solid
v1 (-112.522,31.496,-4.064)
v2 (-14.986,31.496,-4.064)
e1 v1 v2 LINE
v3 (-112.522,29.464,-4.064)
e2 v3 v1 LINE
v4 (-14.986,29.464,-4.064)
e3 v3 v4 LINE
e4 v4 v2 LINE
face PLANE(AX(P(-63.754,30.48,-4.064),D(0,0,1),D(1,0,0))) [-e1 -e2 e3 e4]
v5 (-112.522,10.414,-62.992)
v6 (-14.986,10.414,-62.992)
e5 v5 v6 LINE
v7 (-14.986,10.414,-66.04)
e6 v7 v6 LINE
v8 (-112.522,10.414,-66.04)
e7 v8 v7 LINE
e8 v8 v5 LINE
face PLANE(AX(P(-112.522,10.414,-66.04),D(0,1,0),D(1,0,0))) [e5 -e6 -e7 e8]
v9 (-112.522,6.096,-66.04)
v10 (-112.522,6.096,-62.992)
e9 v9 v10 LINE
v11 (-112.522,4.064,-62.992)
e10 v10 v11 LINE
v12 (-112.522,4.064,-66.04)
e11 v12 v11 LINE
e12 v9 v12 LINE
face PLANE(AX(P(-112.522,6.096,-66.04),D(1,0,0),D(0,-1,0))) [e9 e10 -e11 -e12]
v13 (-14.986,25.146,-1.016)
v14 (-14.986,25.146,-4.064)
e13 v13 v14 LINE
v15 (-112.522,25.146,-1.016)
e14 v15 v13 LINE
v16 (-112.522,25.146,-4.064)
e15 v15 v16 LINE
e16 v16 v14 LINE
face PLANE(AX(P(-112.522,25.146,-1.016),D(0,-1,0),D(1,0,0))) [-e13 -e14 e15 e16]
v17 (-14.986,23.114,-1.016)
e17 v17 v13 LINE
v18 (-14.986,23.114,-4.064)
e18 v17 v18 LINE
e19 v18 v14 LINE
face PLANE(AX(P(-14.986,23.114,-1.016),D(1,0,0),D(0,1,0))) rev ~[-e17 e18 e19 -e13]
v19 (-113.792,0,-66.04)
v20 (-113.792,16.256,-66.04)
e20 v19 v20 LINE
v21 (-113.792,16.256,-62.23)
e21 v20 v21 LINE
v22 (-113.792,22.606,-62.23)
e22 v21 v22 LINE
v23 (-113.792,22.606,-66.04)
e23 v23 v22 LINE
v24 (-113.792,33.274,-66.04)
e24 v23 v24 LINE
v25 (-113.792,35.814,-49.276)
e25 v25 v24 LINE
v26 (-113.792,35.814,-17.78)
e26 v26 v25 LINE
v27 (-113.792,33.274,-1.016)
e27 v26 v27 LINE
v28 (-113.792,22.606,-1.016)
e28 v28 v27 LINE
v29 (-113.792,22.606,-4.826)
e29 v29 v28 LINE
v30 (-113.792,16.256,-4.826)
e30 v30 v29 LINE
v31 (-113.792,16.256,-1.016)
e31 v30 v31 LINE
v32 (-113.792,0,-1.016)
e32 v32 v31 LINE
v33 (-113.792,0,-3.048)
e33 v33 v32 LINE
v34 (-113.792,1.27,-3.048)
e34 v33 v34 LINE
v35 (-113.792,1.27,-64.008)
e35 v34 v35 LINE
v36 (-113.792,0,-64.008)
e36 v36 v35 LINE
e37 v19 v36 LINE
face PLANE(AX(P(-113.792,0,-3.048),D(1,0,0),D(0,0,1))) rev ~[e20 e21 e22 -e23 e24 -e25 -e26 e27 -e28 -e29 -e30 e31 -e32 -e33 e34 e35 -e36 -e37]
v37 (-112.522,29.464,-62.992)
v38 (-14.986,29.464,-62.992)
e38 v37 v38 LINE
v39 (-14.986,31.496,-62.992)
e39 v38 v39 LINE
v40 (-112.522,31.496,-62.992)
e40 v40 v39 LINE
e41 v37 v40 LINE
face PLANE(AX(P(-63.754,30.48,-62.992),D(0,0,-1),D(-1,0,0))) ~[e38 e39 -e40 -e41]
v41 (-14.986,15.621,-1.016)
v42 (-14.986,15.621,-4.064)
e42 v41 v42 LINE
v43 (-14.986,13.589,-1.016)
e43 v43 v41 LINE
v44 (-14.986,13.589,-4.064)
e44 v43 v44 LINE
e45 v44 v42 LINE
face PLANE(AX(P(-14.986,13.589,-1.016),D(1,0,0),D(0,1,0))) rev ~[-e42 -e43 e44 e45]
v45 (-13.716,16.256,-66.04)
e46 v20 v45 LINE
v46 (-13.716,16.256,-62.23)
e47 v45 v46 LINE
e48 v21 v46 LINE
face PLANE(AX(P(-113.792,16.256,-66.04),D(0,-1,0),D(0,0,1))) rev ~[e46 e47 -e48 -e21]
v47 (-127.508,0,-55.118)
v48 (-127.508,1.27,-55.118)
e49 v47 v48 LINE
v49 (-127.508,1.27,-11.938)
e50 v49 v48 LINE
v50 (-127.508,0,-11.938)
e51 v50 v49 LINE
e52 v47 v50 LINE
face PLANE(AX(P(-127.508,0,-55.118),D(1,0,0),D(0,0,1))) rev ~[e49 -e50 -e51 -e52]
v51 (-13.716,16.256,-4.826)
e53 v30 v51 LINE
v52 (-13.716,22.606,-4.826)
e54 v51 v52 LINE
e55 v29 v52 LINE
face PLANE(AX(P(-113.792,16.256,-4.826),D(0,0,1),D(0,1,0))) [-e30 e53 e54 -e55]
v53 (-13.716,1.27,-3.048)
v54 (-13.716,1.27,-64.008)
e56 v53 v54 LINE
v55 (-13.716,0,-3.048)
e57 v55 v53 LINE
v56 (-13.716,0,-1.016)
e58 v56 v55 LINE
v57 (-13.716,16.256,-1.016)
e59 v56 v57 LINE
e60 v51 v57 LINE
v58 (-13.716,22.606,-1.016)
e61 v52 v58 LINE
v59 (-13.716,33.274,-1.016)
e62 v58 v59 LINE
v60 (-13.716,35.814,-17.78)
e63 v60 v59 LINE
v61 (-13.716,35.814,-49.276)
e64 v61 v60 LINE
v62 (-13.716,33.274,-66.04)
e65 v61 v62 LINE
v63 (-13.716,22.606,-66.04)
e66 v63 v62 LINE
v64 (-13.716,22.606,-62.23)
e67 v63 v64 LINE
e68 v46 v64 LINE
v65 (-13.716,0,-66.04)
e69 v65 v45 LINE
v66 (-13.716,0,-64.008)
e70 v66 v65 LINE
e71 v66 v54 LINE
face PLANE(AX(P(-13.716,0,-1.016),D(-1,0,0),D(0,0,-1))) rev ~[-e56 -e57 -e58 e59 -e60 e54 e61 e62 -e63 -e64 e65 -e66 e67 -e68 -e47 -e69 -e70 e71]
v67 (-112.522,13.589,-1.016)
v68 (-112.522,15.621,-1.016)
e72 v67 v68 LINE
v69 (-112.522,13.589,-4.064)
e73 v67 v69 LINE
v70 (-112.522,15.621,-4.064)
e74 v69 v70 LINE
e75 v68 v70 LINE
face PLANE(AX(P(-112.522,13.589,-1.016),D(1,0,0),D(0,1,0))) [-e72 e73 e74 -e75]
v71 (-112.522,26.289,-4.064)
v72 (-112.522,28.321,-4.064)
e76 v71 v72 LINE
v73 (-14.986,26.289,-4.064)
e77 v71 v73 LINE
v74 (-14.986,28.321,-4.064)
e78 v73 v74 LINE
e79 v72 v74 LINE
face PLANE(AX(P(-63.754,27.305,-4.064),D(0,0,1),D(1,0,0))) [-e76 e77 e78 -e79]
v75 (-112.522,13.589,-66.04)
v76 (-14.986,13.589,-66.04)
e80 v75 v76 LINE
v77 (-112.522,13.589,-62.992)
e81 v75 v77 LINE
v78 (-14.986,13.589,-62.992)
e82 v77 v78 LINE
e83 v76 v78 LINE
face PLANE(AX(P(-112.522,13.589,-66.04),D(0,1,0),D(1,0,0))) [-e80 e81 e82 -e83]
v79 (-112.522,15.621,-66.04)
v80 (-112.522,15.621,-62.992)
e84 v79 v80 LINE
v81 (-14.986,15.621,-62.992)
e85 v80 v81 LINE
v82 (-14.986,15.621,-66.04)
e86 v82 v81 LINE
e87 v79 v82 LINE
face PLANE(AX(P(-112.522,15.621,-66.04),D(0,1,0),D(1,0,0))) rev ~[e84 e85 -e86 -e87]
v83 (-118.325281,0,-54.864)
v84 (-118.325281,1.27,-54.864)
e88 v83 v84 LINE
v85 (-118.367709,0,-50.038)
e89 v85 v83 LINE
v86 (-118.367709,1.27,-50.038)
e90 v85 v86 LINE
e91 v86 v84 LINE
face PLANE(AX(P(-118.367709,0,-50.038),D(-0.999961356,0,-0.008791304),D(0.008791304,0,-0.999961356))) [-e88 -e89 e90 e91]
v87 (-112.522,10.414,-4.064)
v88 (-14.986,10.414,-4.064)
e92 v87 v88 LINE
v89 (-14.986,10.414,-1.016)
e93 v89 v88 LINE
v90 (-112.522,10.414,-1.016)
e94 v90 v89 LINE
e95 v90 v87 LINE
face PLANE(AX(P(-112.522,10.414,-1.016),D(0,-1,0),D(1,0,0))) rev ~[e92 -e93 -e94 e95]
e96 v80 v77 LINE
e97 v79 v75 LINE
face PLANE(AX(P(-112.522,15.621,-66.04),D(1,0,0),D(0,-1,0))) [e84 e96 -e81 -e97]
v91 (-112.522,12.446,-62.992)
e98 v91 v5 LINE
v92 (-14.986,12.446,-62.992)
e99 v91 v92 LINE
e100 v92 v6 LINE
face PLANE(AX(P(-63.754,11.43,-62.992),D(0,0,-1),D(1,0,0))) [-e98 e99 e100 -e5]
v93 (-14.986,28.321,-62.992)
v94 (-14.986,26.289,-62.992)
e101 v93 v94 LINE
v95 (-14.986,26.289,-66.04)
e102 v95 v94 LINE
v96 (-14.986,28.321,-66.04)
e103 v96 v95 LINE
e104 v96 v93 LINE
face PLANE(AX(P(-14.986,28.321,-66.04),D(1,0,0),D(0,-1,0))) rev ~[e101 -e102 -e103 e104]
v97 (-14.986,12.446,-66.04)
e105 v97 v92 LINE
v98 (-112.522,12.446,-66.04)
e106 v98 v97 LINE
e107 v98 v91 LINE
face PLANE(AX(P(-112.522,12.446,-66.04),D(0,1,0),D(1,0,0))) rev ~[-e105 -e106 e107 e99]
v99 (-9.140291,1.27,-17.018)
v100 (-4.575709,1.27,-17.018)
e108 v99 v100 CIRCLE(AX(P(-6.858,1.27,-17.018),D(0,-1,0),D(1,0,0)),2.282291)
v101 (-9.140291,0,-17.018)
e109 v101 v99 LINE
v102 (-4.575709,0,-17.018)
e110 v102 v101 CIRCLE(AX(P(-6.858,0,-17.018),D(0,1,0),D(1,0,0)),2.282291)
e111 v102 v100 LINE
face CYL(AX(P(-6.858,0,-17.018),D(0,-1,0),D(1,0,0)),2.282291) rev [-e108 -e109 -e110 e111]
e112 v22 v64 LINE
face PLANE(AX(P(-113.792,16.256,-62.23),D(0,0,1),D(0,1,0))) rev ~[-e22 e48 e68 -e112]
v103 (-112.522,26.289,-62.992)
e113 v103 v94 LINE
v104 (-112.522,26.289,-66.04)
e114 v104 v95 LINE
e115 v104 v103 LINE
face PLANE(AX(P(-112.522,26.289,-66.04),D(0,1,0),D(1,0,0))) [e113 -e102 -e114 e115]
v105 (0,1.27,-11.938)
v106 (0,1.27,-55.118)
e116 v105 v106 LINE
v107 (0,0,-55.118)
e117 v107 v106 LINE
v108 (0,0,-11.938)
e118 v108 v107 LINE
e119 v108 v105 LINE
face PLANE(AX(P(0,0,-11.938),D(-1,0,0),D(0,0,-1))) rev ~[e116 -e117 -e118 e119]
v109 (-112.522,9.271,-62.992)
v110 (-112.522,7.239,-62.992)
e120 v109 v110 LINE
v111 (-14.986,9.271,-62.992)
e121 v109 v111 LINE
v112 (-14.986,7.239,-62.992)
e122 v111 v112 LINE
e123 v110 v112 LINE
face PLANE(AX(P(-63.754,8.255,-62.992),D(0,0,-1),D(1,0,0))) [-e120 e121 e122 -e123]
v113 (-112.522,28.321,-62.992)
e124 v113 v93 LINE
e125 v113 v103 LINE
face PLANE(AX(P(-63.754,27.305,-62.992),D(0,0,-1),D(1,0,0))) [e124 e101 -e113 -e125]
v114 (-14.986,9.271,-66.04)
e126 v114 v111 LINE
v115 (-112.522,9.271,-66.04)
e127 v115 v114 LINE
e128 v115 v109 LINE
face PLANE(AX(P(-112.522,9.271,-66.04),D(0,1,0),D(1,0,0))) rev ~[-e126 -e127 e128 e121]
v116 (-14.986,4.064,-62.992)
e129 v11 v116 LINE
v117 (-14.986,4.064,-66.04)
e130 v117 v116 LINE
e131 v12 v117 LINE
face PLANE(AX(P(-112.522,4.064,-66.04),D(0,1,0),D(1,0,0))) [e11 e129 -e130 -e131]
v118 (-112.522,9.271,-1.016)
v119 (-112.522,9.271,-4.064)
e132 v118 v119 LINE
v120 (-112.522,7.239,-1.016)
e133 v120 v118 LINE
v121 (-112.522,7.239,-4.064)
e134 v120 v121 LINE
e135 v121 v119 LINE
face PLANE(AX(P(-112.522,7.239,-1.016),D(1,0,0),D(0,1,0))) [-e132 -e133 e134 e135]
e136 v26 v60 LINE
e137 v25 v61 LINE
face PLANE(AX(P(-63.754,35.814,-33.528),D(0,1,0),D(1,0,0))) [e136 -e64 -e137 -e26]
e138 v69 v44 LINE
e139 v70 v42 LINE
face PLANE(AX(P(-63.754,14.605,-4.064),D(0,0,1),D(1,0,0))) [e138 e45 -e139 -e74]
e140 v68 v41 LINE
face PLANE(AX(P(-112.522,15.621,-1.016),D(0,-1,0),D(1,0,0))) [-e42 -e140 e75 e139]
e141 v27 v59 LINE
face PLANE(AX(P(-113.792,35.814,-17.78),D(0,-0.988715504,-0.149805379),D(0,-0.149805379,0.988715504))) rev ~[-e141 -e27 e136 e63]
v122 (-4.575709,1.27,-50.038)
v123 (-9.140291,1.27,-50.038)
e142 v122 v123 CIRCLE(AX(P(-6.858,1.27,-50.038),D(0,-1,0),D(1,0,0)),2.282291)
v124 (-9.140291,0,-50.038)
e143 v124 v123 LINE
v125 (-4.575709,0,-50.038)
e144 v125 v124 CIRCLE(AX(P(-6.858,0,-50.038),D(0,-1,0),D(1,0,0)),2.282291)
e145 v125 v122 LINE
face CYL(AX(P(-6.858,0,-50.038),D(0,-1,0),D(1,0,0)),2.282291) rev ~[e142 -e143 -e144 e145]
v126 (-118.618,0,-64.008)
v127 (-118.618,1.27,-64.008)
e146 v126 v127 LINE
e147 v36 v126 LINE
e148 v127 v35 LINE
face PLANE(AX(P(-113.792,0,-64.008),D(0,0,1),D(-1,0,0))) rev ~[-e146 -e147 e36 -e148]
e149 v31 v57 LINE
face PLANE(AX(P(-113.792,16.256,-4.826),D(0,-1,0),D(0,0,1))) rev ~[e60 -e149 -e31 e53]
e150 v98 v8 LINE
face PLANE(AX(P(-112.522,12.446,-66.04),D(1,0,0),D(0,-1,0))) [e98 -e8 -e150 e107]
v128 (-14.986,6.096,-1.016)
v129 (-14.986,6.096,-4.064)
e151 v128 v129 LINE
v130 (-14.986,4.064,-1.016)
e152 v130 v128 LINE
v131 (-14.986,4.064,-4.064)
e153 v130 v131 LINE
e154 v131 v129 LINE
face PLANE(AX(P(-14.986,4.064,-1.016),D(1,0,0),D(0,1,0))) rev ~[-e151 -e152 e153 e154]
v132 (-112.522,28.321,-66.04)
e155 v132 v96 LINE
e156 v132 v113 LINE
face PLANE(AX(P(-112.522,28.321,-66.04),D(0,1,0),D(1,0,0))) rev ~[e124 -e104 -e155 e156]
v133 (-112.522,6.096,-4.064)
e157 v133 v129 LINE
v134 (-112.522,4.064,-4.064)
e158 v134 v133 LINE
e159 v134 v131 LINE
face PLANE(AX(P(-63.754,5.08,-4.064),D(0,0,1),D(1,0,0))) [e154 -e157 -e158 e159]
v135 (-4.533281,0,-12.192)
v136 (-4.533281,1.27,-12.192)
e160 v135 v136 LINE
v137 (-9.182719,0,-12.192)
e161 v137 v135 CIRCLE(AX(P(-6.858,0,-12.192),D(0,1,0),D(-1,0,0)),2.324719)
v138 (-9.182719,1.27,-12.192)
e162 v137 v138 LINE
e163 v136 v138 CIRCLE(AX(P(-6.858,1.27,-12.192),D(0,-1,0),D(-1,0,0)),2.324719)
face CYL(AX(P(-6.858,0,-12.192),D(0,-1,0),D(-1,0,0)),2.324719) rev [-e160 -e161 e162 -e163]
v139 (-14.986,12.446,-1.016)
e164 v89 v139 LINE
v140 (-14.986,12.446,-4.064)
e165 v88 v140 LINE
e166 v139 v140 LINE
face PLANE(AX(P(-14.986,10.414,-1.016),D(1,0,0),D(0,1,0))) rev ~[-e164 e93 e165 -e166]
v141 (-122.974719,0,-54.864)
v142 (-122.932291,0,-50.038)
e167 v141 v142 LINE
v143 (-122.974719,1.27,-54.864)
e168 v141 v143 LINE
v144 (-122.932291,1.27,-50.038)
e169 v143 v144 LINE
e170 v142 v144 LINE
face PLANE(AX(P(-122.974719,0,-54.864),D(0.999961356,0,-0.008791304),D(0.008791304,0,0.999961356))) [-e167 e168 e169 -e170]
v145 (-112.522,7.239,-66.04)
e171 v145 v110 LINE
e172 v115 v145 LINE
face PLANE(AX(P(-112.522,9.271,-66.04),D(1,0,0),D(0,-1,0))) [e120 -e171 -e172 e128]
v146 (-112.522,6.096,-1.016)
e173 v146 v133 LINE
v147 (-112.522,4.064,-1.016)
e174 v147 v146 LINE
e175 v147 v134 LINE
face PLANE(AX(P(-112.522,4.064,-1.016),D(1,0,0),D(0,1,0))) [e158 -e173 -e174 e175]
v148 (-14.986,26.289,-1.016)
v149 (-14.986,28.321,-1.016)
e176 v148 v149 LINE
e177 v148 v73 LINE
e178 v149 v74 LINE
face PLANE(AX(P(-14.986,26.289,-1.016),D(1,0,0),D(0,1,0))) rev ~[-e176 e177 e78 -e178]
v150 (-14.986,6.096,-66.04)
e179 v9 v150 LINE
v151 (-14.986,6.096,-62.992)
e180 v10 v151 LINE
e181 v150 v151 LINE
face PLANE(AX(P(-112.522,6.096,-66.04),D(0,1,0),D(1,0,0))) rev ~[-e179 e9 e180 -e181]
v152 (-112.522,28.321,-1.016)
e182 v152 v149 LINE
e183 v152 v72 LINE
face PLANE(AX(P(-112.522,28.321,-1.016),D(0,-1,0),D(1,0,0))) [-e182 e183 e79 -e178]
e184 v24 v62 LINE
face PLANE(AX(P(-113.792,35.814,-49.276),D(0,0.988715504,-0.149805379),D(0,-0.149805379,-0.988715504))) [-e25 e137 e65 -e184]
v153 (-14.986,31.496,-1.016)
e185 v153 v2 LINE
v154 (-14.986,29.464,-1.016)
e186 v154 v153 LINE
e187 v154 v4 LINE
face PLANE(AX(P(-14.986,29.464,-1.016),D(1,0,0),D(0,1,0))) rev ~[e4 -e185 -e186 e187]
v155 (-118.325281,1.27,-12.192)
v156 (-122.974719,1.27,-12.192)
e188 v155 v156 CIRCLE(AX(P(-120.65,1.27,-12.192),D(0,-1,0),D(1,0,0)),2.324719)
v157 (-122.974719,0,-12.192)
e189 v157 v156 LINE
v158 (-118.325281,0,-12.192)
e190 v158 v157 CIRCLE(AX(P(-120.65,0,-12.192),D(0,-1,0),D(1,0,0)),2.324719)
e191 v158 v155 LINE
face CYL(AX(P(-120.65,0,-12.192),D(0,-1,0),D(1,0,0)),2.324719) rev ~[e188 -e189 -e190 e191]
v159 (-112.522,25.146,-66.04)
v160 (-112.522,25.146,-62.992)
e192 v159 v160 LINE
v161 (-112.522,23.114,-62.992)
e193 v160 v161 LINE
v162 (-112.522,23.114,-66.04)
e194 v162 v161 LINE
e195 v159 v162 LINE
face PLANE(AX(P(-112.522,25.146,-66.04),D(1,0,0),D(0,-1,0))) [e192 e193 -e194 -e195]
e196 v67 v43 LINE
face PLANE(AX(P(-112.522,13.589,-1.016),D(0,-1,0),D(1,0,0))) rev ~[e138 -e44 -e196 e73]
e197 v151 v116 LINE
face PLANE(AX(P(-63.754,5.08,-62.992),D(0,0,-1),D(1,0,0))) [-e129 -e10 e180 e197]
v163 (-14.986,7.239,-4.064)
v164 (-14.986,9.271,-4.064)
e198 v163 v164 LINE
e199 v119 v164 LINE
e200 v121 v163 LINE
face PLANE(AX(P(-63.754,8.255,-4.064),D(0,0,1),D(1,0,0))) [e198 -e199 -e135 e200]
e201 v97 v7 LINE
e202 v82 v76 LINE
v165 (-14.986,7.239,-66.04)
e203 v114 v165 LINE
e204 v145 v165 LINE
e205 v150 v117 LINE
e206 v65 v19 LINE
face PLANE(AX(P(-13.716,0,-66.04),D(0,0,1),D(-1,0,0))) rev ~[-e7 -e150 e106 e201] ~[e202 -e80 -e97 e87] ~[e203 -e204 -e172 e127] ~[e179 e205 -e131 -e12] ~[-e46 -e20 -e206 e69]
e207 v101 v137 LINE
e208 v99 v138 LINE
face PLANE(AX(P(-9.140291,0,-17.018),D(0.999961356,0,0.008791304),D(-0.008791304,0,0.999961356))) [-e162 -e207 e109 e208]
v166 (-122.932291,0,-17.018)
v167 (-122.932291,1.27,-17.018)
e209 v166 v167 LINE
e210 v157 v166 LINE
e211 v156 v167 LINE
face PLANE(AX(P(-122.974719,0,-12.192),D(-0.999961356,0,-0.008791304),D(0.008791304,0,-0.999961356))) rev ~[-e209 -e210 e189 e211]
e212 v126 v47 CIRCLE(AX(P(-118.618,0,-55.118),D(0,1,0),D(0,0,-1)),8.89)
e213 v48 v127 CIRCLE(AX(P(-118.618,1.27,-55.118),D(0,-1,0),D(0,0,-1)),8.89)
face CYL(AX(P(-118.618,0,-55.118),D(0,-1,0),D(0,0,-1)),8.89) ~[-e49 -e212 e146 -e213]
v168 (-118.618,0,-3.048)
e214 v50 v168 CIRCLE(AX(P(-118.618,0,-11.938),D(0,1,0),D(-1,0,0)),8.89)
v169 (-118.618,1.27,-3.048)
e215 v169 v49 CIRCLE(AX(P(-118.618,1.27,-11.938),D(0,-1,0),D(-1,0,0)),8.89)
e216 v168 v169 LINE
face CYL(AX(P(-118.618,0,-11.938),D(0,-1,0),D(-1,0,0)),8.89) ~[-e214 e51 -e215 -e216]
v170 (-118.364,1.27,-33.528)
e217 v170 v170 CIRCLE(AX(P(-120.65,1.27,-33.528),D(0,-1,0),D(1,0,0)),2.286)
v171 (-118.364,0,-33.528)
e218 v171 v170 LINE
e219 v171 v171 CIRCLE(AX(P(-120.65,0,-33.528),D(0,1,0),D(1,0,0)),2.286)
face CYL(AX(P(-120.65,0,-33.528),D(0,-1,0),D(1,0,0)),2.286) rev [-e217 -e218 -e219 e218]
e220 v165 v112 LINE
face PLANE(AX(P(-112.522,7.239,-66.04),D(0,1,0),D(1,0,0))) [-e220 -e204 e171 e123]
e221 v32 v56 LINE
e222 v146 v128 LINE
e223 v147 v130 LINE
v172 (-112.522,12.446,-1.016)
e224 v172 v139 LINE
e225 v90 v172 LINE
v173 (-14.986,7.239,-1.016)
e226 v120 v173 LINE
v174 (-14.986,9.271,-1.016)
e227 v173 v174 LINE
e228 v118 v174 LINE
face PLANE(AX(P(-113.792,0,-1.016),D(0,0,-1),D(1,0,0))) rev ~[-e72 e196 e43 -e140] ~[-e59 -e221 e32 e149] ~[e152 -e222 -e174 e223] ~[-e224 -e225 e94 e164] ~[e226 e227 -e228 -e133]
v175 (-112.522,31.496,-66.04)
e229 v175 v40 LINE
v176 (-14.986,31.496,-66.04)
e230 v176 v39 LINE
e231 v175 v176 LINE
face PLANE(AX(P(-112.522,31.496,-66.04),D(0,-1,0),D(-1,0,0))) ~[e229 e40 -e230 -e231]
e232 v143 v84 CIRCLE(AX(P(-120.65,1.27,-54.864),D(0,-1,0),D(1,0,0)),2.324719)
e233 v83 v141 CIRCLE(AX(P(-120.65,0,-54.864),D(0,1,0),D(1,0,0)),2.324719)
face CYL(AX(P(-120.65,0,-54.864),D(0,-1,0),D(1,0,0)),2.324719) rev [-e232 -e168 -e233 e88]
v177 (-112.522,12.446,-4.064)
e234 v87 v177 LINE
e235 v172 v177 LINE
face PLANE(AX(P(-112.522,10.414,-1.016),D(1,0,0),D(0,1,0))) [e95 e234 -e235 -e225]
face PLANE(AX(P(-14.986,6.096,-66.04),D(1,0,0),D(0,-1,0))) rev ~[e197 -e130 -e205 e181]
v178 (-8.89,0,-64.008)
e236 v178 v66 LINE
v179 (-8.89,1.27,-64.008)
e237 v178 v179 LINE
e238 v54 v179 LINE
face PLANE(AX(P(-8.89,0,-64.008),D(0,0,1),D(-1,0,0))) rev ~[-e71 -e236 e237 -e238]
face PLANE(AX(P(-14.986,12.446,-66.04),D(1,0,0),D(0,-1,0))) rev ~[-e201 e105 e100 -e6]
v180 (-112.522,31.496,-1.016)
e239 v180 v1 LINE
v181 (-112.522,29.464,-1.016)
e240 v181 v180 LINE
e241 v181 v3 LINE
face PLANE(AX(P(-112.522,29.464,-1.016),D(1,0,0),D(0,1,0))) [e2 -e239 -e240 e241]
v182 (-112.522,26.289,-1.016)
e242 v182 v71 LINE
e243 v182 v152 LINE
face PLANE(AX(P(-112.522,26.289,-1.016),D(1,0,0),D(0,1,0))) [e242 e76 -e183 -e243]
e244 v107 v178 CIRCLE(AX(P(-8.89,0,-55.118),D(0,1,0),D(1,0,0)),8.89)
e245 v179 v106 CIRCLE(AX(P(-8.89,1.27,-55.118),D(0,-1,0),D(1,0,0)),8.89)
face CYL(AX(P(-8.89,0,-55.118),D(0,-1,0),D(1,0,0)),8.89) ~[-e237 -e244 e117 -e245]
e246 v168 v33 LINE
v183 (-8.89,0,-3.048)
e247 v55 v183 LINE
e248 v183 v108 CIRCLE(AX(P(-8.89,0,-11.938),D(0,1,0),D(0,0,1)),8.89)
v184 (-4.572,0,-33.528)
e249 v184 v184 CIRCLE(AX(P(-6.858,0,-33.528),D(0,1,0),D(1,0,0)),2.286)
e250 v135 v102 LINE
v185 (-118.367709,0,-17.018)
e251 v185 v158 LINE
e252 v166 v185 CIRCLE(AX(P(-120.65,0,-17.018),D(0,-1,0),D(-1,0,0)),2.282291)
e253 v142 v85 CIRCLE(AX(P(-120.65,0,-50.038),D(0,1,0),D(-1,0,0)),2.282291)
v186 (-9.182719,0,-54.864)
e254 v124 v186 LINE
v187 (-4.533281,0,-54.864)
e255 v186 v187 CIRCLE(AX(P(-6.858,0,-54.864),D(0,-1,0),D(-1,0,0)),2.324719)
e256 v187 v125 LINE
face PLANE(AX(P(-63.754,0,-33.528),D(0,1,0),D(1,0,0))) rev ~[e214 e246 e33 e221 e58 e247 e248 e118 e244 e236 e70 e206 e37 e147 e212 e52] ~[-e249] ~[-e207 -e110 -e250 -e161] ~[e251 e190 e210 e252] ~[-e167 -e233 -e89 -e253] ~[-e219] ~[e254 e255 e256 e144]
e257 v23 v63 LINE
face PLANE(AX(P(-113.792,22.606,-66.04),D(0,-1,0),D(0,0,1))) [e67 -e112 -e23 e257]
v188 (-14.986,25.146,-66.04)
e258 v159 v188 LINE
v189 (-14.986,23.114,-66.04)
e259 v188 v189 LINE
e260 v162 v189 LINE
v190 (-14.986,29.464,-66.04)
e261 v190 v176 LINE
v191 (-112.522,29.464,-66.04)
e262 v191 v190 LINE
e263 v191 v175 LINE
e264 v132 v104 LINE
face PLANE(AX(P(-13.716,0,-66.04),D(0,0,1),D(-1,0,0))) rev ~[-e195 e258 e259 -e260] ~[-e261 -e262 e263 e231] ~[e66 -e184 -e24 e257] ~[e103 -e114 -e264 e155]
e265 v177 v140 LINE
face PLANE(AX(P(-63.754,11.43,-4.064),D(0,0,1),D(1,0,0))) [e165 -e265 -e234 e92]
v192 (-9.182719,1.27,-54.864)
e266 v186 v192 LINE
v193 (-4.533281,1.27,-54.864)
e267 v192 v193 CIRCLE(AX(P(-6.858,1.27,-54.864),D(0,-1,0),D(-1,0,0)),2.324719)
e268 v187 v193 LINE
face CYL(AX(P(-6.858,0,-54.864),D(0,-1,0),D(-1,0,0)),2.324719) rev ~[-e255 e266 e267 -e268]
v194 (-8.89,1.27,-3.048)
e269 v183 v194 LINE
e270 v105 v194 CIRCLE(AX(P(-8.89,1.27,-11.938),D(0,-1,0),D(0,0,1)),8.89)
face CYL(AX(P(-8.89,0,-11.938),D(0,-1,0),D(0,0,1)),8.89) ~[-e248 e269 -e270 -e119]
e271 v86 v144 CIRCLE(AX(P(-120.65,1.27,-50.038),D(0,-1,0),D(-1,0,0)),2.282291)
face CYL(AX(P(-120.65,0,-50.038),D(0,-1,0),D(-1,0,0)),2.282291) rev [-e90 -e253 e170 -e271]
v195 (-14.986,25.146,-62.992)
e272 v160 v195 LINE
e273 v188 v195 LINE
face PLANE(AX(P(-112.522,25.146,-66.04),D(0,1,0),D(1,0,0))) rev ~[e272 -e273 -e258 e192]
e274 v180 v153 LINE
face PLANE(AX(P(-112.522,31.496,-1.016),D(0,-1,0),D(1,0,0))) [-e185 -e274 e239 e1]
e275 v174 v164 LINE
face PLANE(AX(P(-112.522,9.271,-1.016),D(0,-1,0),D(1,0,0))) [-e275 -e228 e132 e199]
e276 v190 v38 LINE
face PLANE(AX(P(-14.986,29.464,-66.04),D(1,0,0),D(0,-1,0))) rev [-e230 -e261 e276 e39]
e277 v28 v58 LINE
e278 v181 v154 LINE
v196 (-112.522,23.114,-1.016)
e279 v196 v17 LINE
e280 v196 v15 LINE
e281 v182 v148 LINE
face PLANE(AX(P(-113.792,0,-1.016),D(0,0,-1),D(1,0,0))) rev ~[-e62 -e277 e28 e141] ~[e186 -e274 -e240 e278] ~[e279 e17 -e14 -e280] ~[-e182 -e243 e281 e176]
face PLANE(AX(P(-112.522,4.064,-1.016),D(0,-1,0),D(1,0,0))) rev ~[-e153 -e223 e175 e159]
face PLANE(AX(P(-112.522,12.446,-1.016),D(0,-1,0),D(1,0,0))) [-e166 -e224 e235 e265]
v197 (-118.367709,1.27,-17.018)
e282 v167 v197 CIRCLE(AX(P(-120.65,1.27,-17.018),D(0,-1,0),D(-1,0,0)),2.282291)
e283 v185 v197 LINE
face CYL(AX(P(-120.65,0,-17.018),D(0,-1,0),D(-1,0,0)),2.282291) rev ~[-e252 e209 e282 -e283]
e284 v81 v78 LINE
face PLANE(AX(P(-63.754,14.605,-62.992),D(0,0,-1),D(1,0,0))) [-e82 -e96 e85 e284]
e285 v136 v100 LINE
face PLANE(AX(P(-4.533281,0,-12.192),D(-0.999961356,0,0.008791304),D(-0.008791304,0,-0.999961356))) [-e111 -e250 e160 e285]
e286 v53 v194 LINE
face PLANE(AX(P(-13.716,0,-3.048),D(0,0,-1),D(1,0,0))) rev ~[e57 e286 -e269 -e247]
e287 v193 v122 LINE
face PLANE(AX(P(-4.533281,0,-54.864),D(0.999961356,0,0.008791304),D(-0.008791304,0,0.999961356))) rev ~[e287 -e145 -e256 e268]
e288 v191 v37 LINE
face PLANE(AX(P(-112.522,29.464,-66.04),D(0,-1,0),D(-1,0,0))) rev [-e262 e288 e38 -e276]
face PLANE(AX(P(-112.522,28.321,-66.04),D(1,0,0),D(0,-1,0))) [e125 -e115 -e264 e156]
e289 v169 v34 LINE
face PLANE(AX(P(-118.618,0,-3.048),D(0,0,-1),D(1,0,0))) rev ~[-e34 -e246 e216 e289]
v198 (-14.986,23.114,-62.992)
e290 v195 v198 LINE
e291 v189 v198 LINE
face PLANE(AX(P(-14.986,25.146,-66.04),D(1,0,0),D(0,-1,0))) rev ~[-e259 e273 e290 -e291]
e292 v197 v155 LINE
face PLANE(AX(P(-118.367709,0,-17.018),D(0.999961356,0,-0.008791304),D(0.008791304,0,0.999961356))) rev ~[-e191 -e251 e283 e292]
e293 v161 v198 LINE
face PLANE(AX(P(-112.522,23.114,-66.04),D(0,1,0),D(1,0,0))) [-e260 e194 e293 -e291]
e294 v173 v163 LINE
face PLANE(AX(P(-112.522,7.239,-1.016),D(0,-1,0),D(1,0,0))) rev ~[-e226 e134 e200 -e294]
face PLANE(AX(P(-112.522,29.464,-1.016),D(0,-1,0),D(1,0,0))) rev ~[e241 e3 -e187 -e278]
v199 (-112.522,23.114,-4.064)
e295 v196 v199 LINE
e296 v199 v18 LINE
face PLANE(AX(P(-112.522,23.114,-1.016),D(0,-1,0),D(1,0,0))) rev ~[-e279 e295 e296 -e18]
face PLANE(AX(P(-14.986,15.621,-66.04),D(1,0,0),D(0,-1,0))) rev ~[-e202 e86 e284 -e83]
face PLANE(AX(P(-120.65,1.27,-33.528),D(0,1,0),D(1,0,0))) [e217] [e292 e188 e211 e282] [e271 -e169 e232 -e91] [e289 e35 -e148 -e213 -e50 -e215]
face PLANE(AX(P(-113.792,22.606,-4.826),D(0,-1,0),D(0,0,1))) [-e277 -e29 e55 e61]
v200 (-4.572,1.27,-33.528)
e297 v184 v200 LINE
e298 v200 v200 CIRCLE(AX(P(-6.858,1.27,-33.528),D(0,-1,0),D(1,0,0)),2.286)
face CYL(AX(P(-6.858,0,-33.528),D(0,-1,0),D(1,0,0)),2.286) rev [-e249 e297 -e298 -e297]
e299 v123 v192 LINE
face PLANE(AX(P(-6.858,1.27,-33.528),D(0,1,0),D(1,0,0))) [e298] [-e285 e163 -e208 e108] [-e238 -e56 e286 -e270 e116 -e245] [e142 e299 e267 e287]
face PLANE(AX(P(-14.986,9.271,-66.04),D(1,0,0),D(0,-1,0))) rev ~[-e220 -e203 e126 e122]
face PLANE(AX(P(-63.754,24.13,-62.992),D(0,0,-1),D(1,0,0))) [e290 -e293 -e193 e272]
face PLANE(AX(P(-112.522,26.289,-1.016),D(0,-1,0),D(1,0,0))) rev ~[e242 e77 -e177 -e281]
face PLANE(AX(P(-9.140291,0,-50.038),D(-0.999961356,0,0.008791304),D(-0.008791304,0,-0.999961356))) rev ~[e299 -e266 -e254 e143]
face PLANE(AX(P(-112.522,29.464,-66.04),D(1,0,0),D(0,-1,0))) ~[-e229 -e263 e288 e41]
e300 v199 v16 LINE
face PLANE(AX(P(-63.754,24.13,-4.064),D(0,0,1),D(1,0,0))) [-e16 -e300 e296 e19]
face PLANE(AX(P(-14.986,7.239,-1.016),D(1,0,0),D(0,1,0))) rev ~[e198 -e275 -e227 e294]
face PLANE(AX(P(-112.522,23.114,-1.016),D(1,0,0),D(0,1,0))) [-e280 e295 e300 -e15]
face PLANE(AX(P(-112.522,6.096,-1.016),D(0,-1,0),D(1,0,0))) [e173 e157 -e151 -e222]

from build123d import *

# Parameters (mm, degrees)
SKETCH1_R               = 2.286
BOSS_EXTRUDE1_DEPTH     = 35.814
SKETCH3_W               = 13.716
SKETCH3_H               = 60.96
CUT_EXTRUDE2_DEPTH      = 34.544
SKETCH4_W               = 3.81
SKETCH4_H               = 6.35
CUT_EXTRUDE3_DEPTH      = 114.792
SKETCH5_W               = 97.536
SKETCH5_H               = 2.032
CUT_EXTRUDE6_DEPTH      = 3.048
LPATTERN1_COUNT         = 9
LPATTERN1_PITCH         = 3.175
MIRROR1_COPY_1_SKETCH_W = 97.536
MIRROR1_COPY_1_SKETCH_H = 2.032
MIRROR1_COPY_1_DEPTH    = 3.048
MIRROR1_COPY_2_SKETCH_W = 97.536
MIRROR1_COPY_2_SKETCH_H = 2.032
MIRROR1_COPY_2_DEPTH    = 3.048
MIRROR1_COPY_3_SKETCH_W = 97.536
MIRROR1_COPY_3_SKETCH_H = 2.032
MIRROR1_COPY_3_DEPTH    = 3.048
MIRROR1_COPY_4_SKETCH_W = 97.536
MIRROR1_COPY_4_SKETCH_H = 2.032
MIRROR1_COPY_4_DEPTH    = 3.048
MIRROR1_COPY_5_SKETCH_W = 97.536
MIRROR1_COPY_5_SKETCH_H = 2.032
MIRROR1_COPY_5_DEPTH    = 3.048
MIRROR1_COPY_6_SKETCH_W = 97.536
MIRROR1_COPY_6_SKETCH_H = 2.032
MIRROR1_COPY_6_DEPTH    = 3.048


with BuildPart() as part:
    # Sketch1 → Boss-Extrude1 (new body)
    with BuildSketch(Plane(origin=(0, 0, 0), x_dir=(1, 0, 0), z_dir=(0, 1, 0))):
        with BuildLine():
            Line((0, 11.938), (0, 55.118))
            ThreePointArc((0, 55.118), (-2.603820715, 61.404179285), (-8.89, 64.008))
            Line((-8.89, 64.008), (-13.716, 64.008))
            Line((-13.716, 64.008), (-13.716, 66.04))
            Line((-13.716, 66.04), (-113.792, 66.04))
            Line((-113.792, 66.04), (-113.792, 64.008))
            Line((-113.792, 64.008), (-118.618, 64.008))
            ThreePointArc((-118.618, 64.008), (-124.904179285, 61.404179285), (-127.508, 55.118))
            Line((-127.508, 55.118), (-127.508, 11.938))
            ThreePointArc((-127.508, 11.938), (-124.904179285, 5.651820715), (-118.618, 3.048))
            Line((-118.618, 3.048), (-113.792, 3.048))
            Line((-113.792, 3.048), (-113.792, 1.016))
            Line((-113.792, 1.016), (-13.716, 1.016))
            Line((-13.716, 1.016), (-13.716, 3.048))
            Line((-13.716, 3.048), (-8.89, 3.048))
            ThreePointArc((-8.89, 3.048), (-2.603820715, 5.651820715), (0, 11.938))
        make_face()
        with Locations((-120.65, 33.528)):
            Circle(SKETCH1_R, mode=Mode.SUBTRACT)
        with Locations((-6.858, 33.528)):
            Circle(SKETCH1_R, mode=Mode.SUBTRACT)
        with BuildLine():
            Line((-118.367709413, 17.018), (-118.325280939, 12.192))
            ThreePointArc((-118.325280939, 12.192), (-120.65, 9.867280939), (-122.974719061, 12.192))
            Line((-122.974719061, 12.192), (-122.932290587, 17.018))
            ThreePointArc((-122.932290587, 17.018), (-120.65, 19.300290587), (-118.367709413, 17.018))
        make_face(mode=Mode.SUBTRACT)
        with BuildLine():
            Line((-122.974719061, 54.864), (-122.932290587, 50.038))
            ThreePointArc((-122.932290587, 50.038), (-120.65, 47.755709413), (-118.367709413, 50.038))
            Line((-118.367709413, 50.038), (-118.325280939, 54.864))
            ThreePointArc((-118.325280939, 54.864), (-120.65, 57.188719061), (-122.974719061, 54.864))
        make_face(mode=Mode.SUBTRACT)
        with BuildLine():
            Line((-9.140290587, 50.038), (-9.182719061, 54.864))
            ThreePointArc((-9.182719061, 54.864), (-6.858, 57.188719061), (-4.533280939, 54.864))
            Line((-4.533280939, 54.864), (-4.575709413, 50.038))
            ThreePointArc((-4.575709413, 50.038), (-6.858, 47.755709413), (-9.140290587, 50.038))
        make_face(mode=Mode.SUBTRACT)
        with BuildLine():
            Line((-4.533280939, 12.192), (-4.575709413, 17.018))
            ThreePointArc((-4.575709413, 17.018), (-6.858, 19.300290587), (-9.140290587, 17.018))
            Line((-9.140290587, 17.018), (-9.182719061, 12.192))
            ThreePointArc((-9.182719061, 12.192), (-6.858, 9.867280939), (-4.533280939, 12.192))
        make_face(mode=Mode.SUBTRACT)
    extrude(amount=BOSS_EXTRUDE1_DEPTH)

    # Sketch3 → Cut-Extrude2 (cut)
    with BuildSketch(Plane(origin=(0, 35.814, 0), x_dir=(1, 0, 0), z_dir=(0, 1, 0))):
        with Locations((-6.858, 33.528)):
            Rectangle(SKETCH3_W, SKETCH3_H)
        with Locations((-120.65, 33.528)):
            Rectangle(SKETCH3_W, SKETCH3_H)
    extrude(amount=-CUT_EXTRUDE2_DEPTH, mode=Mode.SUBTRACT)

    # Sketch4 → Cut-Extrude3 (cut, through all)
    with BuildSketch(Plane.ZY.offset(113.792)):
        Polygon((-17.78, 35.814), (-1.016, 33.274), (-1.016, 35.814), align=None)
        with Locations((-64.135, 19.431)):
            Rectangle(SKETCH4_W, SKETCH4_H)
        with Locations((-2.921, 19.431)):
            Rectangle(SKETCH4_W, SKETCH4_H)
        Polygon((-66.04, 33.274), (-66.04, 35.814), (-49.276, 35.814), align=None)
    extrude(amount=-CUT_EXTRUDE3_DEPTH, mode=Mode.SUBTRACT)

    # Sketch5 → Cut-Extrude6 (cut)
    with BuildSketch(Plane.XY.offset(-1.016)):
        with Locations((-63.754, 30.48)):
            Rectangle(SKETCH5_W, SKETCH5_H)
    cut_extrude6 = extrude(amount=-CUT_EXTRUDE6_DEPTH, mode=Mode.SUBTRACT)

    # LPattern1: Cut-Extrude6 ×9, 2 skipped
    with Locations(*[(0, -i * LPATTERN1_PITCH, 0) for i in range(1, LPATTERN1_COUNT) if i not in (3, 4)]):
        add(cut_extrude6, mode=Mode.SUBTRACT)

    # Mirror1: Cut-Extrude6 across plane
    add(cut_extrude6.mirror(Plane.XY.offset(-33.528)), mode=Mode.SUBTRACT)

    # Mirror1 copy 1 sketch → Mirror1 copy 1 (cut)
    with BuildSketch(Plane(origin=(0, -3.175, -66.04), x_dir=(1, 0, 0), z_dir=(0, 0, -1))):
        with Locations((-63.754, -30.48)):
            Rectangle(MIRROR1_COPY_1_SKETCH_W, MIRROR1_COPY_1_SKETCH_H)
    extrude(amount=-MIRROR1_COPY_1_DEPTH, mode=Mode.SUBTRACT)

    # Mirror1 copy 2 sketch → Mirror1 copy 2 (cut)
    with BuildSketch(Plane(origin=(0, -6.35, -66.04), x_dir=(1, 0, 0), z_dir=(0, 0, -1))):
        with Locations((-63.754, -30.48)):
            Rectangle(MIRROR1_COPY_2_SKETCH_W, MIRROR1_COPY_2_SKETCH_H)
    extrude(amount=-MIRROR1_COPY_2_DEPTH, mode=Mode.SUBTRACT)

    # Mirror1 copy 3 sketch → Mirror1 copy 3 (cut)
    with BuildSketch(Plane(origin=(0, -15.875, -66.04), x_dir=(1, 0, 0), z_dir=(0, 0, -1))):
        with Locations((-63.754, -30.48)):
            Rectangle(MIRROR1_COPY_3_SKETCH_W, MIRROR1_COPY_3_SKETCH_H)
    extrude(amount=-MIRROR1_COPY_3_DEPTH, mode=Mode.SUBTRACT)

    # Mirror1 copy 4 sketch → Mirror1 copy 4 (cut)
    with BuildSketch(Plane(origin=(0, -19.05, -66.04), x_dir=(1, 0, 0), z_dir=(0, 0, -1))):
        with Locations((-63.754, -30.48)):
            Rectangle(MIRROR1_COPY_4_SKETCH_W, MIRROR1_COPY_4_SKETCH_H)
    extrude(amount=-MIRROR1_COPY_4_DEPTH, mode=Mode.SUBTRACT)

    # Mirror1 copy 5 sketch → Mirror1 copy 5 (cut)
    with BuildSketch(Plane(origin=(0, -22.225, -66.04), x_dir=(1, 0, 0), z_dir=(0, 0, -1))):
        with Locations((-63.754, -30.48)):
            Rectangle(MIRROR1_COPY_5_SKETCH_W, MIRROR1_COPY_5_SKETCH_H)
    extrude(amount=-MIRROR1_COPY_5_DEPTH, mode=Mode.SUBTRACT)

    # Mirror1 copy 6 sketch → Mirror1 copy 6 (cut)
    with BuildSketch(Plane(origin=(0, -25.4, -66.04), x_dir=(1, 0, 0), z_dir=(0, 0, -1))):
        with Locations((-63.754, -30.48)):
            Rectangle(MIRROR1_COPY_6_SKETCH_W, MIRROR1_COPY_6_SKETCH_H)
    extrude(amount=-MIRROR1_COPY_6_DEPTH, mode=Mode.SUBTRACT)


solid = part.part
